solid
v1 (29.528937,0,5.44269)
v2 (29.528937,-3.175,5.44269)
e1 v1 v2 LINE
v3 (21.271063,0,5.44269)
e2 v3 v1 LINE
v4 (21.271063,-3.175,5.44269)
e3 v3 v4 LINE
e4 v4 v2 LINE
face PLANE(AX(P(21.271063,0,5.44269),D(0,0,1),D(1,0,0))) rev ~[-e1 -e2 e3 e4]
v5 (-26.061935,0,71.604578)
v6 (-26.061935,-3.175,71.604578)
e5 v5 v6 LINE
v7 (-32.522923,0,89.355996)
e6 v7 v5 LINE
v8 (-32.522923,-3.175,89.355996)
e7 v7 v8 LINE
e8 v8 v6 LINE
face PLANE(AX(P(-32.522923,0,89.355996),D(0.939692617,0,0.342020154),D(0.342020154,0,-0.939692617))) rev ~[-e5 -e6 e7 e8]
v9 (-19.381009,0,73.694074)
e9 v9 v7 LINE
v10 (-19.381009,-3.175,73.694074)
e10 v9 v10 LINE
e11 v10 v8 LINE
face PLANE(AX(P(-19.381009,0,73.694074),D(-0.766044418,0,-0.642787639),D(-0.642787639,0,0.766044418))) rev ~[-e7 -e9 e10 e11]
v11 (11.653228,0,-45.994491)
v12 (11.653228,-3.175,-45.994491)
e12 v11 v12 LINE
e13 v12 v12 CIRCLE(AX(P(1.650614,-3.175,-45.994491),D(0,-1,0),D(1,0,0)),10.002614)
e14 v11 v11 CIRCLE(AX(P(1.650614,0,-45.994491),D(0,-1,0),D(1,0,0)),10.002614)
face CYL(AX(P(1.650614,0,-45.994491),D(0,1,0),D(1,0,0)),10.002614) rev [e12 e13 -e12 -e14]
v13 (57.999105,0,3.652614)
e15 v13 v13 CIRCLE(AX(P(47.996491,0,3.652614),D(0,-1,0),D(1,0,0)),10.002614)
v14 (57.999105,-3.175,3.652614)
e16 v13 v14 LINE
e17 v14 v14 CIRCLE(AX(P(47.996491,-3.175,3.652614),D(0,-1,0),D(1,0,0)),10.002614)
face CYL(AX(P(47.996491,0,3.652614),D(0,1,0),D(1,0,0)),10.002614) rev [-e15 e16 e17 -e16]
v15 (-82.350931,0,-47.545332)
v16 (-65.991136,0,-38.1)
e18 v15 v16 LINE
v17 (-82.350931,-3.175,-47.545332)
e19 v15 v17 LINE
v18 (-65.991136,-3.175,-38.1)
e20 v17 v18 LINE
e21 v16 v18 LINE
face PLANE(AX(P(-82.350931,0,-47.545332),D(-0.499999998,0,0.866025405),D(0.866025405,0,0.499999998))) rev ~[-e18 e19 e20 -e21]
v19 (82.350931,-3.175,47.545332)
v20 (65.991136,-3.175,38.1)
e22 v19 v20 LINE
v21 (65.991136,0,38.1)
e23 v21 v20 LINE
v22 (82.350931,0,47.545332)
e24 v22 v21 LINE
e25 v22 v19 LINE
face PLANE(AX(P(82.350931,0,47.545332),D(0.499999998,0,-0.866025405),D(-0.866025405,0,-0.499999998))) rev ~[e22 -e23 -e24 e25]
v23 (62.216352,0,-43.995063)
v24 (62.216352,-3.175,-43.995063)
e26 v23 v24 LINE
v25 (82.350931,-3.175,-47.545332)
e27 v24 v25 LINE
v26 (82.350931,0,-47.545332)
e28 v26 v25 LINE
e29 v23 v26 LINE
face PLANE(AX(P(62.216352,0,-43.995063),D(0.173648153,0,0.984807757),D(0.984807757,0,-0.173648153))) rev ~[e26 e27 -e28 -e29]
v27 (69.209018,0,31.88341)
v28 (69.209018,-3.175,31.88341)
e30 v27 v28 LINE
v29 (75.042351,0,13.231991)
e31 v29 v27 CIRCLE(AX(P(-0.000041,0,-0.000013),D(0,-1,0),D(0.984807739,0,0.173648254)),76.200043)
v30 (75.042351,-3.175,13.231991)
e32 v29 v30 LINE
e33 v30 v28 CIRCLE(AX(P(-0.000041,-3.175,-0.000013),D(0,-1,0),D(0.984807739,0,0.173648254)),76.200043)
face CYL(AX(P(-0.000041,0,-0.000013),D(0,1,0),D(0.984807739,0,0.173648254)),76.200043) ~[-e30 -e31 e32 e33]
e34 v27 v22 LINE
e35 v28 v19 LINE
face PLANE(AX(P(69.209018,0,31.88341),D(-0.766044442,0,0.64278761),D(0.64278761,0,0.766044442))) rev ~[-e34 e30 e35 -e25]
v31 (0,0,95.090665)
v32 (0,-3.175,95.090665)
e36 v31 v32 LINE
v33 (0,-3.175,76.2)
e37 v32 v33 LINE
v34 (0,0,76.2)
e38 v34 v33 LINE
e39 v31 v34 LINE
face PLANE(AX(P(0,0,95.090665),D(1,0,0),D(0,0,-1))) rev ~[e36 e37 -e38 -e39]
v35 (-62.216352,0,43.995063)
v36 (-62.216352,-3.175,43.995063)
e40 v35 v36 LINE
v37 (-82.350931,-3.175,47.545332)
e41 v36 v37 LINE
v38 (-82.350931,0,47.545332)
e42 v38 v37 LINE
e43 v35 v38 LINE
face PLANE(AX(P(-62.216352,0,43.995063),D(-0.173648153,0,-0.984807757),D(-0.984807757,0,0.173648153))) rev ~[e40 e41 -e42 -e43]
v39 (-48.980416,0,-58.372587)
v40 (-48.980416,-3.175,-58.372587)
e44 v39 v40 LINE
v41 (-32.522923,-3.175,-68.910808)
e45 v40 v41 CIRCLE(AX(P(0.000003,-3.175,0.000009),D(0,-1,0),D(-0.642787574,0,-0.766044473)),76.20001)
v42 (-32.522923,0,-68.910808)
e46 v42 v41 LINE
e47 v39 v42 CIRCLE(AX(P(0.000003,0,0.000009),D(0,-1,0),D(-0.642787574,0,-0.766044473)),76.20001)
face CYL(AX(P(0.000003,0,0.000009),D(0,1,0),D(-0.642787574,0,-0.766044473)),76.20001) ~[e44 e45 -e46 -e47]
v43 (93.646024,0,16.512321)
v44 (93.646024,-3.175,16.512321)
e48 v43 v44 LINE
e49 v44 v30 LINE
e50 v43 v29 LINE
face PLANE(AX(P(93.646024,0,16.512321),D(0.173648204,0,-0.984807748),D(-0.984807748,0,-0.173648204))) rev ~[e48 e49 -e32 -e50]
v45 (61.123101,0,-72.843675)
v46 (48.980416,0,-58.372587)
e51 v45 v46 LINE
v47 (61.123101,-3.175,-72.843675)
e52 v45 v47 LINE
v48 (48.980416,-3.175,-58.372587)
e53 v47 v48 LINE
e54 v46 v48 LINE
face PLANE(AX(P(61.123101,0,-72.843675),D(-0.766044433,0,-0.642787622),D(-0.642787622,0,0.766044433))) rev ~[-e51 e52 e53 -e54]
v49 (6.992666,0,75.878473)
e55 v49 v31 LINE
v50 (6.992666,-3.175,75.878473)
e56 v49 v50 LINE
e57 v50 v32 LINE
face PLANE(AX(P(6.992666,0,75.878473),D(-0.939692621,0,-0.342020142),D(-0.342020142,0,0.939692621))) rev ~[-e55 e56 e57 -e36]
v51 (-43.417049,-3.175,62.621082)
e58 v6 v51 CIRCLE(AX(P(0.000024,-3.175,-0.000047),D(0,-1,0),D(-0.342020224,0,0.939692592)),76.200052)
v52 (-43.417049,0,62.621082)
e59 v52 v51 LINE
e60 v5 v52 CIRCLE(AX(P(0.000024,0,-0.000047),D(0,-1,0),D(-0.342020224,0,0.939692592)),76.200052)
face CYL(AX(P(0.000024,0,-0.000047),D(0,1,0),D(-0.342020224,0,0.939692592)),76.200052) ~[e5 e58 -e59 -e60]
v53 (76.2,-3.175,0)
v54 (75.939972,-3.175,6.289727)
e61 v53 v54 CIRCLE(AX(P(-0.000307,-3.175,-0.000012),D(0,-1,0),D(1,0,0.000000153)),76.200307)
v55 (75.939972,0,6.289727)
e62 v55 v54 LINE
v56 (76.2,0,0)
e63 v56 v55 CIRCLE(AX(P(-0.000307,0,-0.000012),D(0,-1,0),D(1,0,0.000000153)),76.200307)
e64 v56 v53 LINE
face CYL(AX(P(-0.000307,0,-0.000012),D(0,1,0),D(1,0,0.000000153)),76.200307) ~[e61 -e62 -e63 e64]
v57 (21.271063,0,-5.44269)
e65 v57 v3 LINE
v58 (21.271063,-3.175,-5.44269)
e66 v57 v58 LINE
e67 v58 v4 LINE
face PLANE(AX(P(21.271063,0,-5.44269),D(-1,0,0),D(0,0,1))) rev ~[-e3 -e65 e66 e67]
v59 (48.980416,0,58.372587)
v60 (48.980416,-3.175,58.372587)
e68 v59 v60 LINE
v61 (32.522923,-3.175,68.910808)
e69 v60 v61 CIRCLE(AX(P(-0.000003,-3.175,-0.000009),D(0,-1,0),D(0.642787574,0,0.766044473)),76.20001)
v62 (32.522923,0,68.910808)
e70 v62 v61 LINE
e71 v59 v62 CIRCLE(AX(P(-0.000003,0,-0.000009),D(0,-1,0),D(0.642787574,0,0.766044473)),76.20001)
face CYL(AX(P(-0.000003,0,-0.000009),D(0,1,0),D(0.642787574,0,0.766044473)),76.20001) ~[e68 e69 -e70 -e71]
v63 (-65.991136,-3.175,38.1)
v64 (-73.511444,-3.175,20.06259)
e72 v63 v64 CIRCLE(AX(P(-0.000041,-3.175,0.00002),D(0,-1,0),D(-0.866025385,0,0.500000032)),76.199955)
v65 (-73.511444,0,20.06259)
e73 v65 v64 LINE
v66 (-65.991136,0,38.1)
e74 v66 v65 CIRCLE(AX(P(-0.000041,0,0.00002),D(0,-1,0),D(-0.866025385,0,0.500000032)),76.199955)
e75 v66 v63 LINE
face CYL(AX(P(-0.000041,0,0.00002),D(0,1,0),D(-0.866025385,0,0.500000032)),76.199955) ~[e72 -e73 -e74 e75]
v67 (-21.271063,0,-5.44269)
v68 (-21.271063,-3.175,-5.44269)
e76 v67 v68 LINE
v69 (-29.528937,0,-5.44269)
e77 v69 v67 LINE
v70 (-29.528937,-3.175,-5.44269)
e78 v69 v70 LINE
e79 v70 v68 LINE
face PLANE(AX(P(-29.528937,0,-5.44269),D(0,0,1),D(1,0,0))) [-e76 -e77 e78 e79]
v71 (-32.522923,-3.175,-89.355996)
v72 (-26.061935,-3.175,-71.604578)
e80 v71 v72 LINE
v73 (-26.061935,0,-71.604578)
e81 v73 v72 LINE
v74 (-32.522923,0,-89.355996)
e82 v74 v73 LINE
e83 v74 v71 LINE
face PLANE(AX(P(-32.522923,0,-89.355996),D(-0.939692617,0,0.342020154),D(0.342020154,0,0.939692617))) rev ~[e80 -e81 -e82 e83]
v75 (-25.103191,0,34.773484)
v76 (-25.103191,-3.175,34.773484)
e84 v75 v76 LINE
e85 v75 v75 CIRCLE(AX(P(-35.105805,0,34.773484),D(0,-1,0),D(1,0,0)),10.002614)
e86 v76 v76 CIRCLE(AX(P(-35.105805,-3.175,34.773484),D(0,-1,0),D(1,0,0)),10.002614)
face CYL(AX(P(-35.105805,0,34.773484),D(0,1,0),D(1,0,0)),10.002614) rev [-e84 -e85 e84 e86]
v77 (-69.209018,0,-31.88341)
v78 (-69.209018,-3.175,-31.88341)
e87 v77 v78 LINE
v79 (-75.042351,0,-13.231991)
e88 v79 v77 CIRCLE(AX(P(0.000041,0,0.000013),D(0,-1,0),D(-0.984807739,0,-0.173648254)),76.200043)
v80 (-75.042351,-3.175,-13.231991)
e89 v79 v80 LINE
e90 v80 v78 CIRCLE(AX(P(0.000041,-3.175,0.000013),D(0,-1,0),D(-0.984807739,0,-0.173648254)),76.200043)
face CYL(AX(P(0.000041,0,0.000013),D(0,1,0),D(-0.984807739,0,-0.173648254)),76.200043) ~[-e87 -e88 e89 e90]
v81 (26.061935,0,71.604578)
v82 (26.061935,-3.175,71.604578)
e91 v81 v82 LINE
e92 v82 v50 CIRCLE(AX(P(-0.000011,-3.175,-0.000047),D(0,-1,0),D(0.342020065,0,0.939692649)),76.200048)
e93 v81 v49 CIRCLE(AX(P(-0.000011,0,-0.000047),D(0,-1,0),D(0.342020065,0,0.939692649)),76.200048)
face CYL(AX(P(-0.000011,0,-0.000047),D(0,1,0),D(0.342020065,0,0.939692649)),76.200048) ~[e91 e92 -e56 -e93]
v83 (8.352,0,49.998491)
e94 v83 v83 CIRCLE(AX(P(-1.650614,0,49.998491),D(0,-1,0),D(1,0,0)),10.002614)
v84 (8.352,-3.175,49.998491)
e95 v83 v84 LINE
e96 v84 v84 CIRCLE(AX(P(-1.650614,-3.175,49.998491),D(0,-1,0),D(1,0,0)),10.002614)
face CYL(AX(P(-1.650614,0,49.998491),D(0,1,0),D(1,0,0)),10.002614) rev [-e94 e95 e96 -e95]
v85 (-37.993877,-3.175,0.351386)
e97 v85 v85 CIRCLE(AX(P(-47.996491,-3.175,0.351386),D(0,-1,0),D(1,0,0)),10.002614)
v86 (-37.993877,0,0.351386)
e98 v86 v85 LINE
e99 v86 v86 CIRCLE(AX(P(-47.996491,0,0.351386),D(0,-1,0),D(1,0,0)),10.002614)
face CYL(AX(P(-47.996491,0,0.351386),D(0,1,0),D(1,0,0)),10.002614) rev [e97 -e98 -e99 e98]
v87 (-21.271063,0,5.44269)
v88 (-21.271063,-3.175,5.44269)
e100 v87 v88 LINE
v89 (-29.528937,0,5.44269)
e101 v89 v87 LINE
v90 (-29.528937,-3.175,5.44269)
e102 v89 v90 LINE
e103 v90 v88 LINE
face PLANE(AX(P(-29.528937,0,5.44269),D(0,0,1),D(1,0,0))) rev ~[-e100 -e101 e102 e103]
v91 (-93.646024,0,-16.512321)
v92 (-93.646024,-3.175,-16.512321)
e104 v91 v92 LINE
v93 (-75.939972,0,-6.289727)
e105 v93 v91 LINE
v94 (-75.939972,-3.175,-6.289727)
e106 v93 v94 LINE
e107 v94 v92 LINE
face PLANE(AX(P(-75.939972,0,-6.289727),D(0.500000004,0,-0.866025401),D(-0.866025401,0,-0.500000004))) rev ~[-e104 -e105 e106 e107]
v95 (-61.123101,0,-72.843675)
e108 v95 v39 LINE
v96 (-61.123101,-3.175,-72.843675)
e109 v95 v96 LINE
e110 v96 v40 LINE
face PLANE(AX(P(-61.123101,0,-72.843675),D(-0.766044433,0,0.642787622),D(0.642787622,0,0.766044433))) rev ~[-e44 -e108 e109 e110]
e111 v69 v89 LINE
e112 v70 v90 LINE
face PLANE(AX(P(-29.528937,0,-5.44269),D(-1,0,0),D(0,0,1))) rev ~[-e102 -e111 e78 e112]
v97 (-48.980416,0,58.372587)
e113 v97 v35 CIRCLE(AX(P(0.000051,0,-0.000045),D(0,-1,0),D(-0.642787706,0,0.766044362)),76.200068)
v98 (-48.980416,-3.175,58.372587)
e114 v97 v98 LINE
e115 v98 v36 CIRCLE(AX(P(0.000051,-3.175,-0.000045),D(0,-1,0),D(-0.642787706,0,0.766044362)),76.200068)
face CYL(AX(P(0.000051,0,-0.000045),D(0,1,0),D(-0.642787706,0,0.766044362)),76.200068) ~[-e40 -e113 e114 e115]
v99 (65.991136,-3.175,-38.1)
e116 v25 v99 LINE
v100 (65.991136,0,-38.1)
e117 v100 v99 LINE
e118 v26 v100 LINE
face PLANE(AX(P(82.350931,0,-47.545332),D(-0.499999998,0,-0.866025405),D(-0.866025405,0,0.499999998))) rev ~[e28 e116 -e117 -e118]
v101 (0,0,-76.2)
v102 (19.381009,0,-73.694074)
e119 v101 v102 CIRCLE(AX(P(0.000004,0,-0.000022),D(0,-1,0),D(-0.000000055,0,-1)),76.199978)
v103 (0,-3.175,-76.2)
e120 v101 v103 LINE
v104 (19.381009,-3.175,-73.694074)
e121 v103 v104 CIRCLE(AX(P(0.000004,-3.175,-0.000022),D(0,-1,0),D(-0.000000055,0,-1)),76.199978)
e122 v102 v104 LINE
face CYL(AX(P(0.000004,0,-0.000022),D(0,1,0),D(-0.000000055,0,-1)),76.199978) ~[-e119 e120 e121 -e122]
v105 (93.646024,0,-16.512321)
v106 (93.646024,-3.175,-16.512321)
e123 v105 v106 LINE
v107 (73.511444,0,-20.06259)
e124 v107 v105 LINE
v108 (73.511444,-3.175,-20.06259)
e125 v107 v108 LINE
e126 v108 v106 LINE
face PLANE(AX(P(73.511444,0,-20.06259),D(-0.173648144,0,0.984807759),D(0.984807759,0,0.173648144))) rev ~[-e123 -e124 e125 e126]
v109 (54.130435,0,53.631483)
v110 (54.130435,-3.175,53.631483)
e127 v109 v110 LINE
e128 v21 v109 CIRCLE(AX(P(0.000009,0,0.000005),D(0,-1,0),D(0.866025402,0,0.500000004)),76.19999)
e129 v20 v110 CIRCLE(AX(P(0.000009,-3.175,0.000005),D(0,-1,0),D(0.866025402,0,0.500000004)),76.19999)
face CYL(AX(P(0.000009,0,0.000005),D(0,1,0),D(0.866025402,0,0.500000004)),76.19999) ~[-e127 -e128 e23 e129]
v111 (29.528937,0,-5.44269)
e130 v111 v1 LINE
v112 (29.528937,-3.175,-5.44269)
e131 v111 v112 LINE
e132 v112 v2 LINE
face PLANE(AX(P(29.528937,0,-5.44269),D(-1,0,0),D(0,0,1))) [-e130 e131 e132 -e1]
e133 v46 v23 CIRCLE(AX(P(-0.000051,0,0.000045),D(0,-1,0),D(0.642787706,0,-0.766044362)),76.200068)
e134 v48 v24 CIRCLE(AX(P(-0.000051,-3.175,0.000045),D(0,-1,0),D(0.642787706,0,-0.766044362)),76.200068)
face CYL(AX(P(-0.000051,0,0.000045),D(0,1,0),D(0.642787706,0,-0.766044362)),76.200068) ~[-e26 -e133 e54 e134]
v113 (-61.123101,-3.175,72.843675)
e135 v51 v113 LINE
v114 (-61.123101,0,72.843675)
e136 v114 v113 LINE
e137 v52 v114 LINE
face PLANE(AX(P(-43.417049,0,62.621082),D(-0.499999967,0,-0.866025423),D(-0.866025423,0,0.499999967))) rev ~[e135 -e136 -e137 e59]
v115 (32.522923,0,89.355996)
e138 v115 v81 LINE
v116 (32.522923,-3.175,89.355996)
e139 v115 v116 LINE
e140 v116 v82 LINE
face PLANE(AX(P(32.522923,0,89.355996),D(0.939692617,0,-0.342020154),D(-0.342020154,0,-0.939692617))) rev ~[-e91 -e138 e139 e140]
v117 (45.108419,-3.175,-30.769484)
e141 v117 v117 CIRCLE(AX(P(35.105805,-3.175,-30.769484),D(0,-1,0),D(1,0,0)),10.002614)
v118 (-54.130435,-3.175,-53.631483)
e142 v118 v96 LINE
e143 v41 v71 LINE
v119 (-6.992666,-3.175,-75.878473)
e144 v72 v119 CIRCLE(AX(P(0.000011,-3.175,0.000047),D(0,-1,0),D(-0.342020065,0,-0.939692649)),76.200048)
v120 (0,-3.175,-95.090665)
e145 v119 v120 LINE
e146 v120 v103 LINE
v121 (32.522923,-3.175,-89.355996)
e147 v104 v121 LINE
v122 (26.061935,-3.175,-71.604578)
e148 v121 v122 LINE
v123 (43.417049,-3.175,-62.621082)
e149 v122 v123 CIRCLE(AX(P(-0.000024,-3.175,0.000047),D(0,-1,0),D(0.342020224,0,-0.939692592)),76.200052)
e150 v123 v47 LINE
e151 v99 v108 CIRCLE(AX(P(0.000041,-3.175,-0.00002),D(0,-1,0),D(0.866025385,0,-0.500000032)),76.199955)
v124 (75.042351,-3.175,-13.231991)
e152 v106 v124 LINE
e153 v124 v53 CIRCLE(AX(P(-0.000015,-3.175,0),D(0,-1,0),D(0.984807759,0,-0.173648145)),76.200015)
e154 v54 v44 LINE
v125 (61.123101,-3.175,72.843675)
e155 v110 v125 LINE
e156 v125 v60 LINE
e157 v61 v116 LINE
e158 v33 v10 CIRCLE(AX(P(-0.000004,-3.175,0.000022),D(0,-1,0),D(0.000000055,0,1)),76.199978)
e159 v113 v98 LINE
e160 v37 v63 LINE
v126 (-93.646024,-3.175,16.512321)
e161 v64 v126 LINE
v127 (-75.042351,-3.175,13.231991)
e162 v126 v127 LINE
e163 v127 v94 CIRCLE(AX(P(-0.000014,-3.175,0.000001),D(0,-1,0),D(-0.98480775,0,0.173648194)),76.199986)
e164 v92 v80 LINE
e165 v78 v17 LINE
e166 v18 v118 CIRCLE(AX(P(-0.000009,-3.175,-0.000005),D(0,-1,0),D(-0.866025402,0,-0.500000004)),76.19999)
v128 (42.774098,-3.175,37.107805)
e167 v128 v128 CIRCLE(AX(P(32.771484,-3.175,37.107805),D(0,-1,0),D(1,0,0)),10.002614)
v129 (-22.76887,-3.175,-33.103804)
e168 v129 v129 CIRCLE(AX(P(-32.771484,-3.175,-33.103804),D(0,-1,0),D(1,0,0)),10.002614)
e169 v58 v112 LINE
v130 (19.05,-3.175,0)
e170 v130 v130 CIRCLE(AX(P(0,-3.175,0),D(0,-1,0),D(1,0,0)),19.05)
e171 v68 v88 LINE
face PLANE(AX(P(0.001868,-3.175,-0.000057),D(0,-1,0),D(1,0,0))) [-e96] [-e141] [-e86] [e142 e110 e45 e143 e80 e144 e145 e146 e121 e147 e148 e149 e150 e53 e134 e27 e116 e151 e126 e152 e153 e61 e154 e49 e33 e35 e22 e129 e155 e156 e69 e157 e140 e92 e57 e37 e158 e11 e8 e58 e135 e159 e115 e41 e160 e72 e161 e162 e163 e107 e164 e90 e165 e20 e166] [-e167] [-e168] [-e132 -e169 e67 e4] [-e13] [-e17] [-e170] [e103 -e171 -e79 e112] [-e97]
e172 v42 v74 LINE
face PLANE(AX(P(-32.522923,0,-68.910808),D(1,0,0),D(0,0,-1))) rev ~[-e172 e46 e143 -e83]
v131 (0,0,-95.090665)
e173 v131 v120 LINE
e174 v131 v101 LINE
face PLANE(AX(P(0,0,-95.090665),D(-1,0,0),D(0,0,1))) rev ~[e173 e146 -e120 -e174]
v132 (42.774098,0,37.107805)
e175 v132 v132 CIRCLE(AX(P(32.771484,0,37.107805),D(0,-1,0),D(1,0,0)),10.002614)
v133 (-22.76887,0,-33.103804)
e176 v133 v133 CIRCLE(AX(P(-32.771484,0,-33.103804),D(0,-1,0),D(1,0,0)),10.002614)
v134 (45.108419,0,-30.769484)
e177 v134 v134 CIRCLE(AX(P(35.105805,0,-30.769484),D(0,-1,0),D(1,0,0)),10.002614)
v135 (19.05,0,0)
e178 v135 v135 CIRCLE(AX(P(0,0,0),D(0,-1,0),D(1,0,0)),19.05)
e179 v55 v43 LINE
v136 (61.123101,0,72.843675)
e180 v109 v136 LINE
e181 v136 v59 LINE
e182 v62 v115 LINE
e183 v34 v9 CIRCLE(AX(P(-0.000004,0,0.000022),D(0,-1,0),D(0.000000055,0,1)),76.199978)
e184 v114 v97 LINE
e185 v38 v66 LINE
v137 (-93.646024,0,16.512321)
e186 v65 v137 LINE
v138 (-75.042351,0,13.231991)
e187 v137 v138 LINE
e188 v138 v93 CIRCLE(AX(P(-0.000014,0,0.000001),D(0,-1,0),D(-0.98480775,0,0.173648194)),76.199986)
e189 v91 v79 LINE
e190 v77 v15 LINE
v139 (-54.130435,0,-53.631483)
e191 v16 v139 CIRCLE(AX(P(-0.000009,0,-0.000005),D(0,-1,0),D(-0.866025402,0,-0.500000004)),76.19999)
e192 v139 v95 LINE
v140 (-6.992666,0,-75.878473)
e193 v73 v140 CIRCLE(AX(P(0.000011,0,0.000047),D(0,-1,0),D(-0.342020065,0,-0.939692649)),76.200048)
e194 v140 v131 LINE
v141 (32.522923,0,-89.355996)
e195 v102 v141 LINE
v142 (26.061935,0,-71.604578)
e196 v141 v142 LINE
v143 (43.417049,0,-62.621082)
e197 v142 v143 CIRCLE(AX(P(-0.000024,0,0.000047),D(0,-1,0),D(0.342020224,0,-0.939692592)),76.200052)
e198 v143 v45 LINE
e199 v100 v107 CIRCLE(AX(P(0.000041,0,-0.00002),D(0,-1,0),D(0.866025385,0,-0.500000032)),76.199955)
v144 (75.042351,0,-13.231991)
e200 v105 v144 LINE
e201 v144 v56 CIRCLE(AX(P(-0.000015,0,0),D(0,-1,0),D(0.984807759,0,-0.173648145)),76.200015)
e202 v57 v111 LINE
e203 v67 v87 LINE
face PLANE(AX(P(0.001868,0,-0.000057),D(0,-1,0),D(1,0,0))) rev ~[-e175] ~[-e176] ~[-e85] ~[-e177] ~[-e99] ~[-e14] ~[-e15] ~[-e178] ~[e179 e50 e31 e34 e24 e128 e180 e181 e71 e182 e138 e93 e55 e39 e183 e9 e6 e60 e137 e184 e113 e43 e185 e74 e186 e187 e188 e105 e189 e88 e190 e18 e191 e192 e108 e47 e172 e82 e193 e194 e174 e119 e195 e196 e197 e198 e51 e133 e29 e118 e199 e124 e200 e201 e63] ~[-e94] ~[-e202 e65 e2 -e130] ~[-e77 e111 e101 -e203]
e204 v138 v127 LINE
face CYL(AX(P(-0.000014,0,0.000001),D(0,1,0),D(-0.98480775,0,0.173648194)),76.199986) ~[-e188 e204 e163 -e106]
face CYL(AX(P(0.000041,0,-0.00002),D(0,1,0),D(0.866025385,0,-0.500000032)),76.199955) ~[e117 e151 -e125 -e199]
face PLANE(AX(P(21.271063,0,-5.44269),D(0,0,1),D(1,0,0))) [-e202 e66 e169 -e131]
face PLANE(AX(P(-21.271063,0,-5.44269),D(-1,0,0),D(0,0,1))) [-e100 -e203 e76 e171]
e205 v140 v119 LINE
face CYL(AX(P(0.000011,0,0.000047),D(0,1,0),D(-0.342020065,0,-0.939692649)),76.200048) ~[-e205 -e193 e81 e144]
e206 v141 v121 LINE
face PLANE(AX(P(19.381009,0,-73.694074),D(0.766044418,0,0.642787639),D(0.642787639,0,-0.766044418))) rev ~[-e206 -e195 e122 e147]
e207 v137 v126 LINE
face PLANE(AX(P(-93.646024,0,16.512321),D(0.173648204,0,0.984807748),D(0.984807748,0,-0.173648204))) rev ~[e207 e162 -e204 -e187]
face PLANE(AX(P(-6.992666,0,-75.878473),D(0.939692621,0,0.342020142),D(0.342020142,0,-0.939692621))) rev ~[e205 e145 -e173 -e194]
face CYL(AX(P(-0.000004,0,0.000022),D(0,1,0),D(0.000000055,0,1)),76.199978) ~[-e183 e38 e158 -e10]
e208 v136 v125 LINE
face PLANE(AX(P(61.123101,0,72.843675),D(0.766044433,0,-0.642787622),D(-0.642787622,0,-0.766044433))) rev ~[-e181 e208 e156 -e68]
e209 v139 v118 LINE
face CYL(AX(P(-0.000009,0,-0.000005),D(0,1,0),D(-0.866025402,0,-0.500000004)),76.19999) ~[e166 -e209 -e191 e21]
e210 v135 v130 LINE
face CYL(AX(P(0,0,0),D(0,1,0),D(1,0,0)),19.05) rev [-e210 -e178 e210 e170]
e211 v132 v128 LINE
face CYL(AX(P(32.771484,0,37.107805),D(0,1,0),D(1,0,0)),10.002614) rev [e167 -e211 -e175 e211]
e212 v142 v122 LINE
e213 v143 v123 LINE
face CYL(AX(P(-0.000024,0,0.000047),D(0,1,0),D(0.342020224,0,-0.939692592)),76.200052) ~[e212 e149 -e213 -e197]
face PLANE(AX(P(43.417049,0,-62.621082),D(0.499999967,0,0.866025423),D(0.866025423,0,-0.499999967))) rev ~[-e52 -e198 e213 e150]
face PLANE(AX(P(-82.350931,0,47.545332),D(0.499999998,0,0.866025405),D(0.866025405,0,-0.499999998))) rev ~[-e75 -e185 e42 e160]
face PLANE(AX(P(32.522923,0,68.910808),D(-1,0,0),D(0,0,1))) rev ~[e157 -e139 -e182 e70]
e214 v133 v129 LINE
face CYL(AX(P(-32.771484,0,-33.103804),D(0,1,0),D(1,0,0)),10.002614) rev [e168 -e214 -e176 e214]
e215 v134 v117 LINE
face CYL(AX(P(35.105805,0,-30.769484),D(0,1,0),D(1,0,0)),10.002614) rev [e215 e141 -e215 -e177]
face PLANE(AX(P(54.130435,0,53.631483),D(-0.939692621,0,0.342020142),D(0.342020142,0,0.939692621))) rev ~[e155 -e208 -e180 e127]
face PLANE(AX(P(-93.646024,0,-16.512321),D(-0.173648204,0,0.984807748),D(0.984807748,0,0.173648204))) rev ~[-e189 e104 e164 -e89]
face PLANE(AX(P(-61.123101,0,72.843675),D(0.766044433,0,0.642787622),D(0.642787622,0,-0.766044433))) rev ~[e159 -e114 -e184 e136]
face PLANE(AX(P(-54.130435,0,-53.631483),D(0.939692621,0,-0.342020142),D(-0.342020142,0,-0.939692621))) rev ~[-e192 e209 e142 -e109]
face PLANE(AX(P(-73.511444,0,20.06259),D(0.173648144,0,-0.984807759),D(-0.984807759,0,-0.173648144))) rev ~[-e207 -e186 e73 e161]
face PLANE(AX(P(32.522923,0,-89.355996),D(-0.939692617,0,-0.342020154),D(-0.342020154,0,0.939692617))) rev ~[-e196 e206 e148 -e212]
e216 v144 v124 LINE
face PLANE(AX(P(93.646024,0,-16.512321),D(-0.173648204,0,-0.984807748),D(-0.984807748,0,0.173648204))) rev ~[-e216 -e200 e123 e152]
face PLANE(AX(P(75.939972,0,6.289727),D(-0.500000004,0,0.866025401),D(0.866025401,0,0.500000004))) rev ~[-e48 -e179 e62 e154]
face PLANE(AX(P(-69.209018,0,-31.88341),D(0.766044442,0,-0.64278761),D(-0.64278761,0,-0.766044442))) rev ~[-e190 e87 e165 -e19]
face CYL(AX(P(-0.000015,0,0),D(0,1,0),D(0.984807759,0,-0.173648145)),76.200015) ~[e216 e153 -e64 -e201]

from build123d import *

# Parameters (mm, degrees)
F0_R     = 10.002614
F0_W     = 8.257874
F0_H     = 10.88538
F0_R_2   = 19.05
F1_DEPTH = 3.175


with BuildPart() as f1:
    # F0 (on Front) → F1 (new body)
    with BuildSketch(Plane.XZ):
        with BuildLine():
            ThreePointArc((75.042351, -13.231991), (75.910036, -6.641268), (76.2, 0))
            ThreePointArc((76.2, 0), (76.134965, 3.14755), (75.939972, 6.289727))
            ThreePointArc((75.939972, 6.289727), (75.570922, 9.771172), (75.042351, 13.231991))
            ThreePointArc((75.042351, 13.231991), (72.726083, 22.745479), (69.209018, 31.88341))
            ThreePointArc((69.209018, 31.88341), (67.6715, 35.028675), (65.991136, 38.1))
            ThreePointArc((65.991136, 38.1), (60.560752, 46.247544), (54.130435, 53.631483))
            ThreePointArc((54.130435, 53.631483), (51.609896, 56.061204), (48.980416, 58.372587))
            ThreePointArc((48.980416, 58.372587), (41.0909, 64.171473), (32.522923, 68.910808))
            ThreePointArc((32.522923, 68.910808), (29.323378, 70.331924), (26.061935, 71.604578))
            ThreePointArc((26.061935, 71.604578), (16.664879, 74.355375), (6.992666, 75.878473))
            ThreePointArc((6.992666, 75.878473), (3.500027, 76.119576), (0, 76.2))
            ThreePointArc((0, 76.2), (-9.771172, 75.570922), (-19.381009, 73.694074))
            ThreePointArc((-19.381009, 73.694074), (-22.745479, 72.726083), (-26.061935, 71.604578))
            ThreePointArc((-26.061935, 71.604578), (-35.028675, 67.6715), (-43.417049, 62.621082))
            ThreePointArc((-43.417049, 62.621082), (-46.247544, 60.560752), (-48.980416, 58.372587))
            ThreePointArc((-48.980416, 58.372587), (-56.061204, 51.609896), (-62.216352, 43.995063))
            ThreePointArc((-62.216352, 43.995063), (-64.171473, 41.0909), (-65.991136, 38.1))
            ThreePointArc((-65.991136, 38.1), (-70.331924, 29.323378), (-73.511444, 20.06259))
            ThreePointArc((-73.511444, 20.06259), (-74.355375, 16.664879), (-75.042351, 13.231991))
            ThreePointArc((-75.042351, 13.231991), (-76.119576, 3.500027), (-75.939972, -6.289727))
            ThreePointArc((-75.939972, -6.289727), (-75.570922, -9.771172), (-75.042351, -13.231991))
            ThreePointArc((-75.042351, -13.231991), (-72.726083, -22.745479), (-69.209018, -31.88341))
            ThreePointArc((-69.209018, -31.88341), (-67.6715, -35.028675), (-65.991136, -38.1))
            ThreePointArc((-65.991136, -38.1), (-60.560752, -46.247544), (-54.130435, -53.631483))
            ThreePointArc((-54.130435, -53.631483), (-51.609896, -56.061204), (-48.980416, -58.372587))
            ThreePointArc((-48.980416, -58.372587), (-41.0909, -64.171473), (-32.522923, -68.910808))
            ThreePointArc((-32.522923, -68.910808), (-29.323378, -70.331924), (-26.061935, -71.604578))
            ThreePointArc((-26.061935, -71.604578), (-16.664879, -74.355375), (-6.992666, -75.878473))
            ThreePointArc((-6.992666, -75.878473), (-3.500027, -76.119576), (0, -76.2))
            ThreePointArc((0, -76.2), (9.771172, -75.570922), (19.381009, -73.694074))
            ThreePointArc((19.381009, -73.694074), (22.745479, -72.726083), (26.061935, -71.604578))
            ThreePointArc((26.061935, -71.604578), (35.028675, -67.6715), (43.417049, -62.621082))
            ThreePointArc((43.417049, -62.621082), (46.247544, -60.560752), (48.980416, -58.372587))
            ThreePointArc((48.980416, -58.372587), (56.061204, -51.609896), (62.216352, -43.995063))
            ThreePointArc((62.216352, -43.995063), (64.171473, -41.0909), (65.991136, -38.1))
            ThreePointArc((65.991136, -38.1), (70.331924, -29.323378), (73.511444, -20.06259))
            ThreePointArc((73.511444, -20.06259), (74.355375, -16.664879), (75.042351, -13.231991))
        make_face()
        with Locations((-32.771484, -33.103804)):
            Circle(F0_R, mode=Mode.SUBTRACT)
        with Locations((1.650614, -45.994491)):
            Circle(F0_R, mode=Mode.SUBTRACT)
        with Locations((35.105805, -30.769484)):
            Circle(F0_R, mode=Mode.SUBTRACT)
        with Locations((-47.996491, 0.351386)):
            Circle(F0_R, mode=Mode.SUBTRACT)
        with Locations((-25.4, 0)):
            Rectangle(F0_W, F0_H, mode=Mode.SUBTRACT)
        with Locations((-35.105805, 34.773484)):
            Circle(F0_R, mode=Mode.SUBTRACT)
        with Locations((-1.650614, 49.998491)):
            Circle(F0_R, mode=Mode.SUBTRACT)
        Circle(F0_R_2, mode=Mode.SUBTRACT)
        with Locations((25.4, 0)):
            Rectangle(F0_W, F0_H, mode=Mode.SUBTRACT)
        with Locations((32.771484, 37.107805)):
            Circle(F0_R, mode=Mode.SUBTRACT)
        with Locations((47.996491, 3.652614)):
            Circle(F0_R, mode=Mode.SUBTRACT)
        with BuildLine():
            ThreePointArc((75.042351, 13.231991), (75.570922, 9.771172), (75.939972, 6.289727))
            Line((75.939972, 6.289727), (93.646024, 16.512321))
            Line((93.646024, 16.512321), (75.042351, 13.231991))
        make_face()
        with BuildLine():
            Line((93.646024, -16.512321), (75.042351, -13.231991))
            ThreePointArc((75.042351, -13.231991), (74.355375, -16.664879), (73.511444, -20.06259))
            Line((73.511444, -20.06259), (93.646024, -16.512321))
        make_face()
        with BuildLine():
            ThreePointArc((65.991136, 38.1), (67.6715, 35.028675), (69.209018, 31.88341))
            Line((69.209018, 31.88341), (82.350931, 47.545332))
            Line((82.350931, 47.545332), (65.991136, 38.1))
        make_face()
        with BuildLine():
            Line((82.350931, -47.545332), (65.991136, -38.1))
            ThreePointArc((65.991136, -38.1), (64.171473, -41.0909), (62.216352, -43.995063))
            Line((62.216352, -43.995063), (82.350931, -47.545332))
        make_face()
        with BuildLine():
            ThreePointArc((48.980416, 58.372587), (51.609896, 56.061204), (54.130435, 53.631483))
            Line((54.130435, 53.631483), (61.123101, 72.843675))
            Line((61.123101, 72.843675), (48.980416, 58.372587))
        make_face()
        with BuildLine():
            Line((61.123101, -72.843675), (48.980416, -58.372587))
            ThreePointArc((48.980416, -58.372587), (46.247544, -60.560752), (43.417049, -62.621082))
            Line((43.417049, -62.621082), (61.123101, -72.843675))
        make_face()
        with BuildLine():
            ThreePointArc((26.061935, 71.604578), (29.323378, 70.331924), (32.522923, 68.910808))
            Line((32.522923, 68.910808), (32.522923, 89.355996))
            Line((32.522923, 89.355996), (26.061935, 71.604578))
        make_face()
        with BuildLine():
            Line((32.522923, -89.355996), (26.061935, -71.604578))
            ThreePointArc((26.061935, -71.604578), (22.745479, -72.726083), (19.381009, -73.694074))
            Line((19.381009, -73.694074), (32.522923, -89.355996))
        make_face()
        with BuildLine():
            ThreePointArc((0, 76.2), (3.500027, 76.119576), (6.992666, 75.878473))
            Line((6.992666, 75.878473), (0, 95.090665))
            Line((0, 95.090665), (0, 76.2))
        make_face()
        with BuildLine():
            Line((0, -95.090665), (0, -76.2))
            ThreePointArc((0, -76.2), (-3.500027, -76.119576), (-6.992666, -75.878473))
            Line((-6.992666, -75.878473), (0, -95.090665))
        make_face()
        with BuildLine():
            ThreePointArc((-26.061935, 71.604578), (-22.745479, 72.726083), (-19.381009, 73.694074))
            Line((-19.381009, 73.694074), (-32.522923, 89.355996))
            Line((-32.522923, 89.355996), (-26.061935, 71.604578))
        make_face()
        with BuildLine():
            Line((-32.522923, -89.355996), (-26.061935, -71.604578))
            ThreePointArc((-26.061935, -71.604578), (-29.323378, -70.331924), (-32.522923, -68.910808))
            Line((-32.522923, -68.910808), (-32.522923, -89.355996))
        make_face()
        with BuildLine():
            ThreePointArc((-48.980416, 58.372587), (-46.247544, 60.560752), (-43.417049, 62.621082))
            Line((-43.417049, 62.621082), (-61.123101, 72.843675))
            Line((-61.123101, 72.843675), (-48.980416, 58.372587))
        make_face()
        with BuildLine():
            Line((-61.123101, -72.843675), (-48.980416, -58.372587))
            ThreePointArc((-48.980416, -58.372587), (-51.609896, -56.061204), (-54.130435, -53.631483))
            Line((-54.130435, -53.631483), (-61.123101, -72.843675))
        make_face()
        with BuildLine():
            ThreePointArc((-65.991136, 38.1), (-64.171473, 41.0909), (-62.216352, 43.995063))
            Line((-62.216352, 43.995063), (-82.350931, 47.545332))
            Line((-82.350931, 47.545332), (-65.991136, 38.1))
        make_face()
        with BuildLine():
            Line((-82.350931, -47.545332), (-65.991136, -38.1))
            ThreePointArc((-65.991136, -38.1), (-67.6715, -35.028675), (-69.209018, -31.88341))
            Line((-69.209018, -31.88341), (-82.350931, -47.545332))
        make_face()
        with BuildLine():
            ThreePointArc((-75.042351, 13.231991), (-74.355375, 16.664879), (-73.511444, 20.06259))
            Line((-73.511444, 20.06259), (-93.646024, 16.512321))
            Line((-93.646024, 16.512321), (-75.042351, 13.231991))
        make_face()
        with BuildLine():
            Line((-93.646024, -16.512321), (-75.042351, -13.231991))
            ThreePointArc((-75.042351, -13.231991), (-75.570922, -9.771172), (-75.939972, -6.289727))
            Line((-75.939972, -6.289727), (-93.646024, -16.512321))
        make_face()
    extrude(amount=F1_DEPTH)


solid = f1.part
